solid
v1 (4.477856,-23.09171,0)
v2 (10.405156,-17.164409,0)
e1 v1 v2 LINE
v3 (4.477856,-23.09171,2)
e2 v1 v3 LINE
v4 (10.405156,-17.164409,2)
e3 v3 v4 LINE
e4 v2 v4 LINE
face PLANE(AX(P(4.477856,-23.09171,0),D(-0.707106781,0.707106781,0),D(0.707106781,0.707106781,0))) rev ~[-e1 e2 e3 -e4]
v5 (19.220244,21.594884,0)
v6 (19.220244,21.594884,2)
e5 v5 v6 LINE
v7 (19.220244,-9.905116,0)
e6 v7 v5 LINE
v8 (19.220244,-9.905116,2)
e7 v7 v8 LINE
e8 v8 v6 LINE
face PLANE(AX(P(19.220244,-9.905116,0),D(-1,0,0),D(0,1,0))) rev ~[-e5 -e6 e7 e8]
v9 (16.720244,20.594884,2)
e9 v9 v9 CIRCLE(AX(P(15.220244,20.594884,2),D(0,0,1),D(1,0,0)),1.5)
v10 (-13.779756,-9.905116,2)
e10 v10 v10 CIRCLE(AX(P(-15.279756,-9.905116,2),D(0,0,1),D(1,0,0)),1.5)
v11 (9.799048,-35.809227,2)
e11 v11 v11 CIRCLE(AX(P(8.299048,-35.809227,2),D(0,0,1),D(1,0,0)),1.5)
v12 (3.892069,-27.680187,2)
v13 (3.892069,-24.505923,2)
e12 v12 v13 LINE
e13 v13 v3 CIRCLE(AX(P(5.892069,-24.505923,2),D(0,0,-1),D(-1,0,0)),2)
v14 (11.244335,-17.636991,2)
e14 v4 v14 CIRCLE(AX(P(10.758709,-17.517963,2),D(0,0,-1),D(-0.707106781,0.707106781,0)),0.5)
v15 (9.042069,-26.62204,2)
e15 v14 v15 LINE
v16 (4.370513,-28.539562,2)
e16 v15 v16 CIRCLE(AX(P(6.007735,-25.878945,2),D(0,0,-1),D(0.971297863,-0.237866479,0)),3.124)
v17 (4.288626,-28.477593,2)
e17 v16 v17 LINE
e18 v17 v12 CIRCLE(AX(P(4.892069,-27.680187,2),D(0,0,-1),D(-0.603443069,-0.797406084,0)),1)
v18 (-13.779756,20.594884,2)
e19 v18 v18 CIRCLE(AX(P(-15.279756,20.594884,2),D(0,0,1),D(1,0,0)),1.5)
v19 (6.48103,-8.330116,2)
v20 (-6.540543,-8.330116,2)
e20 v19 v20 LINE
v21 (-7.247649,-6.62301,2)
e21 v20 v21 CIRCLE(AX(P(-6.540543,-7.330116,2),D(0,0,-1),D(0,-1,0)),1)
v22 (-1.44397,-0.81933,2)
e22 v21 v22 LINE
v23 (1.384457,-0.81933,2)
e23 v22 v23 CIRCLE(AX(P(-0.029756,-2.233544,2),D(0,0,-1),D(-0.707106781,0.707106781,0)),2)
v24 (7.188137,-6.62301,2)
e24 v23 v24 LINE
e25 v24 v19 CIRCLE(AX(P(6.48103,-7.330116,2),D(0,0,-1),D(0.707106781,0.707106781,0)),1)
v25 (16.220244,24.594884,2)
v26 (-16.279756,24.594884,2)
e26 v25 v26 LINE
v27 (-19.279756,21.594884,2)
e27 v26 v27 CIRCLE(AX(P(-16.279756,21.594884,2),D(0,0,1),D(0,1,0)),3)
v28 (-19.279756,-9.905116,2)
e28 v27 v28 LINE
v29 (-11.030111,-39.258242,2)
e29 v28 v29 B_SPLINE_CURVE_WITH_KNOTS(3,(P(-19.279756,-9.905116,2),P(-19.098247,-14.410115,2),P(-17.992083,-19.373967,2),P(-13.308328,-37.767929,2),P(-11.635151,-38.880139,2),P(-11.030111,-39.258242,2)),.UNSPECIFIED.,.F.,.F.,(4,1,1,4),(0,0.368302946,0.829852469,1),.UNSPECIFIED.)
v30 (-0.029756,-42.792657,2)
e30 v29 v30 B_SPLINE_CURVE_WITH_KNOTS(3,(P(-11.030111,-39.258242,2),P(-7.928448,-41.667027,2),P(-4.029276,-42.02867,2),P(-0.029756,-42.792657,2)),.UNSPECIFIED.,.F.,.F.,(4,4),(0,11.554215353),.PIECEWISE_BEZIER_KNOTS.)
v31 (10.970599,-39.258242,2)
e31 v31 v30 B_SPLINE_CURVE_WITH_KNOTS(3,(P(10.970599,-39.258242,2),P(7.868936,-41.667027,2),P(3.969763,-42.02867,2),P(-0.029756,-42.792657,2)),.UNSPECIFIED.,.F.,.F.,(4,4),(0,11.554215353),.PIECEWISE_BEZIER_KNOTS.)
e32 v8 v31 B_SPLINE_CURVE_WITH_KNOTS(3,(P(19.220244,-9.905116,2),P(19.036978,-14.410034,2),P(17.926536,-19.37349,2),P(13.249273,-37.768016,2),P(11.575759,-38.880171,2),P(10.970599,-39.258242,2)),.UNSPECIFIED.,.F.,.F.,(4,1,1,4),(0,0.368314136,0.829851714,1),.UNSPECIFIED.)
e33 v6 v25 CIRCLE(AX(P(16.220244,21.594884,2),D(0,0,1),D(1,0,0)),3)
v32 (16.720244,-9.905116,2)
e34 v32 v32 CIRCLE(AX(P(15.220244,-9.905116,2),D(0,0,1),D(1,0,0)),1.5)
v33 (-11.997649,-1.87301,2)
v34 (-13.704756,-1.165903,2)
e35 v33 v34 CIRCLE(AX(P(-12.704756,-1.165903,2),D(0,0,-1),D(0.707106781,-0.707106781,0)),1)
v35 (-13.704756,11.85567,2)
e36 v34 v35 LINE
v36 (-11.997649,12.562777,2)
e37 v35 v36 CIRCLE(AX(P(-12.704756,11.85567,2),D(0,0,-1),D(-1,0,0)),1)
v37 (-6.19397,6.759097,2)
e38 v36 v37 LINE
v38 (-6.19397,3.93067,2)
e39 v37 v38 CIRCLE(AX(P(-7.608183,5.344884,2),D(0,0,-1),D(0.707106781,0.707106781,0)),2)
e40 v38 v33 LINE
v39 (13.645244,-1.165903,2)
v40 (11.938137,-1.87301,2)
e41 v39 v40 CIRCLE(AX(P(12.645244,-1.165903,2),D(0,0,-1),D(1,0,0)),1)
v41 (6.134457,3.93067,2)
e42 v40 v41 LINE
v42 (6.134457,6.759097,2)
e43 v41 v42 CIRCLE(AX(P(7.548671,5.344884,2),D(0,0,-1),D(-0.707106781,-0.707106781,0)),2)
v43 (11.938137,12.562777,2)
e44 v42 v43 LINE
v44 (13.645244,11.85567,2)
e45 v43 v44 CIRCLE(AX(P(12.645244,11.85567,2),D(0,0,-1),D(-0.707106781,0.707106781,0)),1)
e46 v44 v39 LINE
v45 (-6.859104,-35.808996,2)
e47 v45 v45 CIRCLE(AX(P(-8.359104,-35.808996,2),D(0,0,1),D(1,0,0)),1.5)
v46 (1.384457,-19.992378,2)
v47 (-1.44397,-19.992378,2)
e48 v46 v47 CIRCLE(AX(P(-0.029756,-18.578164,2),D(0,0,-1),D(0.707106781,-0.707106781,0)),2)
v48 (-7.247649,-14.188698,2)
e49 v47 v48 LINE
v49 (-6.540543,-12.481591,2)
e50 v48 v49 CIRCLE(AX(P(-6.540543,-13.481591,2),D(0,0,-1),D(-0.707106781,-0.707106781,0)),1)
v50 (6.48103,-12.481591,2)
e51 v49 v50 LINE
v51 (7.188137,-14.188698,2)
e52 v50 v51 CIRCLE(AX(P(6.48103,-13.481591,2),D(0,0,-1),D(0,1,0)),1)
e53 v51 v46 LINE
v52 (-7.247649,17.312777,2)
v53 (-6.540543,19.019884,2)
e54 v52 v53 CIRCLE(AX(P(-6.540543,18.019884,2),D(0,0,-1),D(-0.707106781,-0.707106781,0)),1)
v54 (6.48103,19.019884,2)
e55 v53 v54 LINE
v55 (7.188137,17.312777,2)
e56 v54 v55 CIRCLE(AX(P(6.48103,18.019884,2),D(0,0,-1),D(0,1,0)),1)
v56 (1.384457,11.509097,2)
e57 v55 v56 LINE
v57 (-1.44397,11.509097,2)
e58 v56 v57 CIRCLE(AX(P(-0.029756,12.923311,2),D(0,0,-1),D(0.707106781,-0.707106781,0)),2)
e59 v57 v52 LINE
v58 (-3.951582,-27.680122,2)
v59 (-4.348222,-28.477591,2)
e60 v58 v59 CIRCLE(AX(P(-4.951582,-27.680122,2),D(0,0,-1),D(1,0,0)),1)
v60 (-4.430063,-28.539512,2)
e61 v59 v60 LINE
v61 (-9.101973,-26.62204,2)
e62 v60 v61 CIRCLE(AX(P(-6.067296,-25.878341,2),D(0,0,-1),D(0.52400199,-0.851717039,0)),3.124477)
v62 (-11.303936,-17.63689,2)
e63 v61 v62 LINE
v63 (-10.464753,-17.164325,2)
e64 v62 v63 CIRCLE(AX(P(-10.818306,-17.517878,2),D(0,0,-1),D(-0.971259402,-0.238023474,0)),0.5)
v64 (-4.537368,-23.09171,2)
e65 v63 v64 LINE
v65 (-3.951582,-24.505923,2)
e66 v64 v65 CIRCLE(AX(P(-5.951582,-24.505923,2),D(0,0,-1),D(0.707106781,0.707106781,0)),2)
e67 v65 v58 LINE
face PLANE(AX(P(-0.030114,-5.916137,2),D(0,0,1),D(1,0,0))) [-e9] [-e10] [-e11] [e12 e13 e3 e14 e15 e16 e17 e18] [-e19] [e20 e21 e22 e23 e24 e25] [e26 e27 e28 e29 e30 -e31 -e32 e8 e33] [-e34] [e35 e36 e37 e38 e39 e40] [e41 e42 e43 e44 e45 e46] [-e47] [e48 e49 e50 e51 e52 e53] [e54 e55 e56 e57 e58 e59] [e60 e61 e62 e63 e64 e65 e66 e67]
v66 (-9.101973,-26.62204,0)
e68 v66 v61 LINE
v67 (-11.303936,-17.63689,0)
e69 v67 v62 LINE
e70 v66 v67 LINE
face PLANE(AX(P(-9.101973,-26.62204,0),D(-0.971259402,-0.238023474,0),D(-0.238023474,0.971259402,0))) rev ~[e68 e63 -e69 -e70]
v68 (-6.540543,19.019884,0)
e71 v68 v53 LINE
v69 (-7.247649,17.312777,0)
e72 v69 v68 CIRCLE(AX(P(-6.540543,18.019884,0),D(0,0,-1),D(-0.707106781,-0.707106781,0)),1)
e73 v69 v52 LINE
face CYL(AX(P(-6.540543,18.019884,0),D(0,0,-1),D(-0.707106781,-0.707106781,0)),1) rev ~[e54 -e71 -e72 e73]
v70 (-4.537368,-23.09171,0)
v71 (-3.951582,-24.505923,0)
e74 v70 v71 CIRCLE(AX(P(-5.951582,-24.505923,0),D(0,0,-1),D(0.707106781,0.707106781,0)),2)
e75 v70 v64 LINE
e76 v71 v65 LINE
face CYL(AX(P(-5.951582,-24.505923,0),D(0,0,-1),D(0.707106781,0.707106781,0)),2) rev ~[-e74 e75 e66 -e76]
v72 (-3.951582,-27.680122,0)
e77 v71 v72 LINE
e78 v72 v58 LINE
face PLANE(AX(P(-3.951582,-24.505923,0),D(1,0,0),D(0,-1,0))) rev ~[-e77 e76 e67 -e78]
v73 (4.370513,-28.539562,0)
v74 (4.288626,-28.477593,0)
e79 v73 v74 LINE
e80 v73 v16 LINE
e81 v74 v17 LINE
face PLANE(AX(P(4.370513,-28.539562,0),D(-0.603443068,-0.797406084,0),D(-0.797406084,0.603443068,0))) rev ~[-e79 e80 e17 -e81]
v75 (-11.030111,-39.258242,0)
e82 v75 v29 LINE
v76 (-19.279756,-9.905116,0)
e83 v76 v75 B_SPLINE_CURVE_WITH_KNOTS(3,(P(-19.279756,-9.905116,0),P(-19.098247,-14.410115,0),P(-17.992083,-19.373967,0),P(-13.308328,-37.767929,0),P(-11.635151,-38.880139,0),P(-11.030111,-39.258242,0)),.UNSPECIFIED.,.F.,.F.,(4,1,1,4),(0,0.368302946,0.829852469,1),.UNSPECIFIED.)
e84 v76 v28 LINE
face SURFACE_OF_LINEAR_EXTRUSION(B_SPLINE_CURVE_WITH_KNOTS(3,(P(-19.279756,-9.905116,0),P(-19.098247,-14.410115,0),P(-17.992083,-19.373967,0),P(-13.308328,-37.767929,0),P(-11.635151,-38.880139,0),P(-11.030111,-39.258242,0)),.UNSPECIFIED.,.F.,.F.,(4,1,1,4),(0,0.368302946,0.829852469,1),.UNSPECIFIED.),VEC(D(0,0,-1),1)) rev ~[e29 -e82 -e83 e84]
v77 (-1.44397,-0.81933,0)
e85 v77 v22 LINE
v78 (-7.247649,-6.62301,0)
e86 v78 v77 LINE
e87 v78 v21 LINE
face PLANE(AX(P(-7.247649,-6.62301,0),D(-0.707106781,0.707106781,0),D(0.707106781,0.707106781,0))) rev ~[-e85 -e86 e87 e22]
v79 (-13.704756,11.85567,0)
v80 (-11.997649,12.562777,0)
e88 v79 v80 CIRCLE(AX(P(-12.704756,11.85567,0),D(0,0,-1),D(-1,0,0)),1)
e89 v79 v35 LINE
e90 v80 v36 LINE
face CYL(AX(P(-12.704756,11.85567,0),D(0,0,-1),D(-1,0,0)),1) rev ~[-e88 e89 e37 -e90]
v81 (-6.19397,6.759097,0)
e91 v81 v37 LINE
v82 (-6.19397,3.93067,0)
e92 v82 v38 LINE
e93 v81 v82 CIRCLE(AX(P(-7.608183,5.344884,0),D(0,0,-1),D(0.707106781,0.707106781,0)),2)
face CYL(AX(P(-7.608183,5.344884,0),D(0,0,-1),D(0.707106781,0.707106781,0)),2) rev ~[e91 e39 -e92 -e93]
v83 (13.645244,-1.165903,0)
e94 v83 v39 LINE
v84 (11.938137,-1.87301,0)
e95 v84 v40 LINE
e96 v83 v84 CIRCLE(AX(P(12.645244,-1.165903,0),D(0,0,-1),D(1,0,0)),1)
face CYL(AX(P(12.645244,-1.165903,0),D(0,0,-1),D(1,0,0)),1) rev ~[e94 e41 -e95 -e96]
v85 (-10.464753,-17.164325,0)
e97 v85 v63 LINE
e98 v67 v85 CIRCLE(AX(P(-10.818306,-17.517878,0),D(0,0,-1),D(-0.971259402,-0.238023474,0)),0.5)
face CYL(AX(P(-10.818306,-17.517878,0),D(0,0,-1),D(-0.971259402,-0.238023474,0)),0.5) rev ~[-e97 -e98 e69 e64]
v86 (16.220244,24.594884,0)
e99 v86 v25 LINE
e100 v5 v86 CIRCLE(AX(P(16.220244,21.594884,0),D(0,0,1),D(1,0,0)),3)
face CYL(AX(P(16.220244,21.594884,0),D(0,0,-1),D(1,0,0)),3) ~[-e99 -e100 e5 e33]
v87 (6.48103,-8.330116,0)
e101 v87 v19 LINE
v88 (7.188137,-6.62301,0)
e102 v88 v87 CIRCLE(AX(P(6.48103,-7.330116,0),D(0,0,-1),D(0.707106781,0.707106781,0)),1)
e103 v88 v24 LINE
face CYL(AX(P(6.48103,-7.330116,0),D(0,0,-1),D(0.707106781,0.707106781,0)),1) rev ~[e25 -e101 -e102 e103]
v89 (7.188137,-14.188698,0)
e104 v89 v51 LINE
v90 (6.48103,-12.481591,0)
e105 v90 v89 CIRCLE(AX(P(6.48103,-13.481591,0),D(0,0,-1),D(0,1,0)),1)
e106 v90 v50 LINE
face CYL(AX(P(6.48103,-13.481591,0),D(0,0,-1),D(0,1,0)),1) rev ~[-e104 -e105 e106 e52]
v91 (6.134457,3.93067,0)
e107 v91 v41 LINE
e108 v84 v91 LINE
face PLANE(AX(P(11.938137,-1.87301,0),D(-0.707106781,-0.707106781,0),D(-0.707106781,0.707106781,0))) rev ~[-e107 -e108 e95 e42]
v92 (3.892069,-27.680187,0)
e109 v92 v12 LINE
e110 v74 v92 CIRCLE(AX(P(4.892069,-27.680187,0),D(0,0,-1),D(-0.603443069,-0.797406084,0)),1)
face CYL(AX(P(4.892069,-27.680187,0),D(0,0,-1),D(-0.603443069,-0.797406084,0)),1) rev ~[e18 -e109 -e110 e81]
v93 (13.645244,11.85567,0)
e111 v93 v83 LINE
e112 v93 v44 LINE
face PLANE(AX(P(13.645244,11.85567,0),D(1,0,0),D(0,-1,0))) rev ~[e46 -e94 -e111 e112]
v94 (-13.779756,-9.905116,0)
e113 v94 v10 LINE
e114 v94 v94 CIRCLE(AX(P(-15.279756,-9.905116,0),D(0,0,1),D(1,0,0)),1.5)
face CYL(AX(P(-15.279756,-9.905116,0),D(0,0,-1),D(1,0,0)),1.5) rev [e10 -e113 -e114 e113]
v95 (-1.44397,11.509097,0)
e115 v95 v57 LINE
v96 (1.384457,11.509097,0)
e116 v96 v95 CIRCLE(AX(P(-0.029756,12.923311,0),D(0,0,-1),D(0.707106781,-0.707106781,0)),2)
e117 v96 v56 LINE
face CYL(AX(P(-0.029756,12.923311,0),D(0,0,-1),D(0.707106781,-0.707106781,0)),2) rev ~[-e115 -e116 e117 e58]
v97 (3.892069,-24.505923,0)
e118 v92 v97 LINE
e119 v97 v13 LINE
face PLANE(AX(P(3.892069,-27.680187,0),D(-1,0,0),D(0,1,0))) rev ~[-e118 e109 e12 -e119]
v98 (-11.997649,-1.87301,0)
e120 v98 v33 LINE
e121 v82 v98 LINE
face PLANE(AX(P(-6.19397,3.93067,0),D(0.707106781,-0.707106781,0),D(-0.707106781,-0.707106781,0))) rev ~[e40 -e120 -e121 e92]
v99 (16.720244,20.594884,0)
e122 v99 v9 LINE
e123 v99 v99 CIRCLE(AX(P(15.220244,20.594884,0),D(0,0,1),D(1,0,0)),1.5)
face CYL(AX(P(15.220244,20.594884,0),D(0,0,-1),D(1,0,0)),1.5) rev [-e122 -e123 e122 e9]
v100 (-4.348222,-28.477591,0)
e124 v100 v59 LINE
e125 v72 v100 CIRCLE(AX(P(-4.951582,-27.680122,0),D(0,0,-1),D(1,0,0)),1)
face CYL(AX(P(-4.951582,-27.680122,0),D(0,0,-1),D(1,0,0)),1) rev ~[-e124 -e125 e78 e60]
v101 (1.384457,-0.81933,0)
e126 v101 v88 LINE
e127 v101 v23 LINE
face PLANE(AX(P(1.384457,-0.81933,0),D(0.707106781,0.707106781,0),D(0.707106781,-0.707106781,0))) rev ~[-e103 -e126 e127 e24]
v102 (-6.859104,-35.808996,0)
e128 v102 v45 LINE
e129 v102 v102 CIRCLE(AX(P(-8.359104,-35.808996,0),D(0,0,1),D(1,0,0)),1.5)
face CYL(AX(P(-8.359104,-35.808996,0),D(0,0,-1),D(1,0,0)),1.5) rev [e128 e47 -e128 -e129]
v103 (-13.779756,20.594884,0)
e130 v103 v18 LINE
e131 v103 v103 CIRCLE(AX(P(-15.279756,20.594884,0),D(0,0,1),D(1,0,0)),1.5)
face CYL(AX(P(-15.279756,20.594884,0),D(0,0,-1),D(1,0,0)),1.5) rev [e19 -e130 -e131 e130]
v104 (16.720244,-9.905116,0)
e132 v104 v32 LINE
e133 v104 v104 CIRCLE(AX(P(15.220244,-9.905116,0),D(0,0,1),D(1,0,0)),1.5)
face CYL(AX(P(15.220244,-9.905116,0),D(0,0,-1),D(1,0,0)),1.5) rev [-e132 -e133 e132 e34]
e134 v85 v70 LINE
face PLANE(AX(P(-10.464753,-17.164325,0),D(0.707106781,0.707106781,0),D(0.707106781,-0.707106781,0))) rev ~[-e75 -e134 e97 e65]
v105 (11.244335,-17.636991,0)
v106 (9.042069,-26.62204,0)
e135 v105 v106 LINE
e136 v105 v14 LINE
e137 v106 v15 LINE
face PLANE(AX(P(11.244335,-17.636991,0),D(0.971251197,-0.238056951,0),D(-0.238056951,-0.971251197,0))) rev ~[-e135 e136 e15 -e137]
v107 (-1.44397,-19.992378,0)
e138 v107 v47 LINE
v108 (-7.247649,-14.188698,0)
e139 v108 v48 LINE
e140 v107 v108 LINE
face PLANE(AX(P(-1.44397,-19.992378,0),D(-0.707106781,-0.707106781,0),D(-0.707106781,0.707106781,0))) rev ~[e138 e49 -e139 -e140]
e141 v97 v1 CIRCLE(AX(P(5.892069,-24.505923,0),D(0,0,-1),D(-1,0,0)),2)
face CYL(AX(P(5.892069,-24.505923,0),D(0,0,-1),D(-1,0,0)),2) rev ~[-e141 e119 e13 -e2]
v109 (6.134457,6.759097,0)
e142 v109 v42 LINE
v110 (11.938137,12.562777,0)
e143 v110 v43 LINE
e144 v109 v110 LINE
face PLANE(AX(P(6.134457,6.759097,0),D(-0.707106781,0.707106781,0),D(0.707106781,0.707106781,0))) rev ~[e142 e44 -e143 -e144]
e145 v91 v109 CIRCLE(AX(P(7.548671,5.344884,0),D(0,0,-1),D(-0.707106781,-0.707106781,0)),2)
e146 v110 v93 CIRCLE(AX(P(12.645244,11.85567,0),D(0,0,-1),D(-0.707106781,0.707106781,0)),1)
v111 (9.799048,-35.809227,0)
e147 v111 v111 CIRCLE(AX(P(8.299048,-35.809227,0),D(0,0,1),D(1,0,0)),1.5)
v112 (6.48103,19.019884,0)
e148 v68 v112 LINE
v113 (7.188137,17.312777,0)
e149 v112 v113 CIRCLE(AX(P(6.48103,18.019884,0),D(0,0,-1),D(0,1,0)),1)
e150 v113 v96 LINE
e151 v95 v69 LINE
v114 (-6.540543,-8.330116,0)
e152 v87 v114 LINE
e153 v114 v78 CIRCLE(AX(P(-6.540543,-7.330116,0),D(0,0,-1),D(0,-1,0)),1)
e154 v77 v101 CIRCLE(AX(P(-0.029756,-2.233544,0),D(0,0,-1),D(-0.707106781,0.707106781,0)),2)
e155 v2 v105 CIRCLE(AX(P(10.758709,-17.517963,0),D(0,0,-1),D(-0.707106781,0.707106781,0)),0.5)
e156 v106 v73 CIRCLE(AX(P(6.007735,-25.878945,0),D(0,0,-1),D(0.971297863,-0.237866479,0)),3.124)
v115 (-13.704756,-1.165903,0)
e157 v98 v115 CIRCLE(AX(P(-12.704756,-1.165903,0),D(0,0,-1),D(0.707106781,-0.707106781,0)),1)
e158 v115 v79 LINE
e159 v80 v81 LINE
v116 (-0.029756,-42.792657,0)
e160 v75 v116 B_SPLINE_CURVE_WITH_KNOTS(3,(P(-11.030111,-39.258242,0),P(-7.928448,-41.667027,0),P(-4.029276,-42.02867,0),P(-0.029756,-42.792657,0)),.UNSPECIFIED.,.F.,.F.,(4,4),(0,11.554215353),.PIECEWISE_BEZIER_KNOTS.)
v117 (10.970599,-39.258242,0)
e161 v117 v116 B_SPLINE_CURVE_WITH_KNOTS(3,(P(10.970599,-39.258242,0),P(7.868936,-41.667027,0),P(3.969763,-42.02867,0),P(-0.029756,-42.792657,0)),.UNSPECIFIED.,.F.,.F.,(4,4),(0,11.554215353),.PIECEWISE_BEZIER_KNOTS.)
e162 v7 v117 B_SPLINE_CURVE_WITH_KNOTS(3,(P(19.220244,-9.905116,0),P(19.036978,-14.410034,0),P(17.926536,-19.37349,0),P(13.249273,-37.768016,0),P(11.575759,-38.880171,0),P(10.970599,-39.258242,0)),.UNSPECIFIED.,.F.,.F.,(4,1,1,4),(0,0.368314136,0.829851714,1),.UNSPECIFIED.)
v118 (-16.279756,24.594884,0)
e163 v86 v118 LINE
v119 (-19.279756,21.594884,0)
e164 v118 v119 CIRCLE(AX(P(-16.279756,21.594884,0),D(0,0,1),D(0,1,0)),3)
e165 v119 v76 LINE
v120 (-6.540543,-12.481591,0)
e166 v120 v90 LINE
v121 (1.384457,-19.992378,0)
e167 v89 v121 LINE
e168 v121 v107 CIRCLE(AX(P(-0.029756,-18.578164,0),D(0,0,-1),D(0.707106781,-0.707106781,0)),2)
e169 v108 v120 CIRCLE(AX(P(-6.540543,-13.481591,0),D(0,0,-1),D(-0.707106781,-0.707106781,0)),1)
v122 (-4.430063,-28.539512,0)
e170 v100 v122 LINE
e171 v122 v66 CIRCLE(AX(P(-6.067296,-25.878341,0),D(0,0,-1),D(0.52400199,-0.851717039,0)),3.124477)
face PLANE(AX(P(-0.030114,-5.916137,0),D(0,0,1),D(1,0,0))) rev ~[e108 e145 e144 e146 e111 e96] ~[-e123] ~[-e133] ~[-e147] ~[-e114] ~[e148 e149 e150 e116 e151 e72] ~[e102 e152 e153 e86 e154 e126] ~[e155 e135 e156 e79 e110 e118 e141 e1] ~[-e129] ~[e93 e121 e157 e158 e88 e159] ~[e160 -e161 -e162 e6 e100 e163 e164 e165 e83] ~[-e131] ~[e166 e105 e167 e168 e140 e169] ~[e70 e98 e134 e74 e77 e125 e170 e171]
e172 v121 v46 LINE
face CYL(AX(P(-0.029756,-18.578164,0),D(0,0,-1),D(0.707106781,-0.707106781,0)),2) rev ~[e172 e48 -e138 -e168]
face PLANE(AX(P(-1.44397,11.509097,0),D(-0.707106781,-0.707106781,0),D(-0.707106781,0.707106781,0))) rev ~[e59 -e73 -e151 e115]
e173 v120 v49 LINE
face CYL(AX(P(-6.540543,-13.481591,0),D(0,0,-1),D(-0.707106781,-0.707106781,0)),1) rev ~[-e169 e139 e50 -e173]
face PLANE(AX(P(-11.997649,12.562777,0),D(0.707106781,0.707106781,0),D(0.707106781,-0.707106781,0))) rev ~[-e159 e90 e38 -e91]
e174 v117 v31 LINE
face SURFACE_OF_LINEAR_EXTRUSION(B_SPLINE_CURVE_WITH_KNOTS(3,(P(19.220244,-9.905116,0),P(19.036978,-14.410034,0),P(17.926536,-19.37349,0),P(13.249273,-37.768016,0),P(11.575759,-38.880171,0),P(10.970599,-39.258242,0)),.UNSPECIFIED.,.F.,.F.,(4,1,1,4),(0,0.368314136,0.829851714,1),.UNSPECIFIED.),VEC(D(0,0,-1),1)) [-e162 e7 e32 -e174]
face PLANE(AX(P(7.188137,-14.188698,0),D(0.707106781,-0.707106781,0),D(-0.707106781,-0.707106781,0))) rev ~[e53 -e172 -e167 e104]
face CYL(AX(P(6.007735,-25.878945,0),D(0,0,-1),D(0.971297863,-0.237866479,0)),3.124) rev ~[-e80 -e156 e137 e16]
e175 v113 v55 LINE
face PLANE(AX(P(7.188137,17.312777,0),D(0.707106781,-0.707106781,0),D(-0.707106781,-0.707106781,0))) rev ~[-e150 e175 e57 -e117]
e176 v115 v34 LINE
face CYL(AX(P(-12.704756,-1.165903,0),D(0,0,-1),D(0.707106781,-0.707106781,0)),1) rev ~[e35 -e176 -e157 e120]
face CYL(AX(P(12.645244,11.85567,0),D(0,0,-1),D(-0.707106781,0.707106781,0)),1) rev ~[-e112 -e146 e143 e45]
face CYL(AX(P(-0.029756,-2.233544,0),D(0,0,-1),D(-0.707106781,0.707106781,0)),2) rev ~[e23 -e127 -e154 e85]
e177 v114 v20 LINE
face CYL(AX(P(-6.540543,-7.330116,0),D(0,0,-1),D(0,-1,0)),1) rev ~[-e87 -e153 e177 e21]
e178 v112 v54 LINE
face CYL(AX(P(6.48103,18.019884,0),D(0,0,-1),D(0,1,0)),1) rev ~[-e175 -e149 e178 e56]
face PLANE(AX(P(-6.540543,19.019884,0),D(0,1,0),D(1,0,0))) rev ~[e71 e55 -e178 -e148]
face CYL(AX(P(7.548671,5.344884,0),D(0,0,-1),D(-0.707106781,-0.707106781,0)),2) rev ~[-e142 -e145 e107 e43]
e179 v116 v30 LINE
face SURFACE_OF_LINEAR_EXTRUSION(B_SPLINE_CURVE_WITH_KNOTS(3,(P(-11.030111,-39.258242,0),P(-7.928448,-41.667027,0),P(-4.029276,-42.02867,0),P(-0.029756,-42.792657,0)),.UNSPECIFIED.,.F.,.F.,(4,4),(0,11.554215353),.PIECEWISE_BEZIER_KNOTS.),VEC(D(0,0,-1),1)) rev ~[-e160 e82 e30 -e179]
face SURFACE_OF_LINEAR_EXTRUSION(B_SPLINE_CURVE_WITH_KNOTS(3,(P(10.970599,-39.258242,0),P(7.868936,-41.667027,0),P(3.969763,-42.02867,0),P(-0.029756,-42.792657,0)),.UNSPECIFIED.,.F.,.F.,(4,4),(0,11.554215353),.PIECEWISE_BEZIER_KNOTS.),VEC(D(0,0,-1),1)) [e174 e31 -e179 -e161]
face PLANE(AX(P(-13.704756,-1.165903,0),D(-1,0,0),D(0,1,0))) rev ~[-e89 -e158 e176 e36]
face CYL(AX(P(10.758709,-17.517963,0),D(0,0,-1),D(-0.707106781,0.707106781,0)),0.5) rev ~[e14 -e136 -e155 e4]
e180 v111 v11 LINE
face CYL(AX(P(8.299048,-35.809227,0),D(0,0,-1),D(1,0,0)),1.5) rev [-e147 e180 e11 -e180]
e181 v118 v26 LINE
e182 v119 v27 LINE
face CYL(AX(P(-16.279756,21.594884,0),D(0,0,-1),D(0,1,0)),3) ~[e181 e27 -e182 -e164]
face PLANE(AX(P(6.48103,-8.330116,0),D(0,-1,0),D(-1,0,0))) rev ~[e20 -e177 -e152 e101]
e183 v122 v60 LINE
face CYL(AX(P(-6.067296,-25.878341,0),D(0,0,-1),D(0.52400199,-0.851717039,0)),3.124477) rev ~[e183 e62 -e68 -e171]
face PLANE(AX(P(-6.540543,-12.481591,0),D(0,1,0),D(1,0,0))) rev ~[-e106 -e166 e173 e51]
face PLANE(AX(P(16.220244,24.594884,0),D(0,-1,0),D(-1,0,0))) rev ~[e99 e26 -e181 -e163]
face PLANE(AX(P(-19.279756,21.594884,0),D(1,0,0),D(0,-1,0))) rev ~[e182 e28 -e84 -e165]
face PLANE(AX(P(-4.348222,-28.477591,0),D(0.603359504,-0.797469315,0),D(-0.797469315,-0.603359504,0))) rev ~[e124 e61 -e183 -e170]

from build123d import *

# Parameters (mm, degrees)
F0_R     = 1.5
F1_DEPTH = 2


with BuildPart() as f1:
    # F0 (on Top) → F1 (new body)
    with BuildSketch(Plane.XY):
        with BuildLine():
            add(Edge.make_bspline(
                [(-19.2797562629, -9.905116457), (-19.0982468003, -14.4101153328), (-17.9920827376, -19.3739666304), (-13.308328145, -37.7679285444), (-11.6351514357, -38.8801394619), (-11.0301110372, -39.2582418919)],
                knots=[0, 0, 0, 0, 0.3683029461, 0.8298524693, 1, 1, 1, 1], degree=3))
            add(Edge.make_bspline(
                [(-11.0301110372, -39.2582418919), (-7.9284483046, -41.6670267819), (-4.0292758905, -42.0286703297), (-0.0297562629, -42.7926565894)],
                knots=[0, 0, 0, 0, 11.5542153526, 11.5542153526, 11.5542153526, 11.5542153526], degree=3))
            add(Edge.make_bspline(
                [(10.9705985114, -39.2582418919), (7.8689357787, -41.6670267819), (3.9697633646, -42.0286703297), (-0.0297562629, -42.7926565894)],
                knots=[0, 0, 0, 0, 11.5542153526, 11.5542153526, 11.5542153526, 11.5542153526], degree=3))
            add(Edge.make_bspline(
                [(19.2202437371, -9.905116457), (19.036977504, -14.4100339649), (17.9265362965, -19.3734899796), (13.2492727498, -37.7680162572), (11.5757589717, -38.88017148), (10.9705985114, -39.2582418919)],
                knots=[0, 0, 0, 0, 0.368314136, 0.829851714, 1, 1, 1, 1], degree=3))
            Line((19.2202437371, -9.905116457), (19.2202437371, 20.594883543))
            Line((19.2202437371, 20.594883543), (19.2202437371, 21.594883543))
            ThreePointArc((19.2202437371, 21.594883543), (18.3415640806, 23.7162038866), (16.2202437371, 24.594883543))
            Line((16.2202437371, 24.594883543), (0, 24.594883543))
            Line((0, 24.594883543), (-16.2797562629, 24.594883543))
            ThreePointArc((-16.2797562629, 24.594883543), (-18.4010766065, 23.7162038866), (-19.2797562629, 21.594883543))
            Line((-19.2797562629, 21.594883543), (-19.2797562629, 20.594883543))
            Line((-19.2797562629, 20.594883543), (-19.2797562629, -9.905116457))
        make_face()
        with Locations((-8.3591040188, -35.8089955406)):
            Circle(F0_R, mode=Mode.SUBTRACT)
        with Locations((-15.2797562629, -9.905116457)):
            Circle(F0_R, mode=Mode.SUBTRACT)
        with BuildLine():
            ThreePointArc((-11.3039357928, -17.6368901423), (-11.0636435897, -17.0822070704), (-10.4647527012, -17.1643250148))
            Line((-10.4647527012, -17.1643250148), (-4.5373681075, -23.0917096085))
            ThreePointArc((-4.5373681075, -23.0917096085), (-4.1038226049, -23.7405563062), (-3.9515816699, -24.5059231709))
            Line((-3.9515816699, -24.5059231709), (-3.9515816699, -27.680122055))
            ThreePointArc((-3.9515816699, -27.680122055), (-4.0562159615, -28.1254536709), (-4.3482221662, -28.4775913706))
            Line((-4.3482221662, -28.4775913706), (-4.4300632592, -28.5395117484))
            ThreePointArc((-4.4300632592, -28.5395117484), (-7.2536293499, -28.7688377699), (-9.1019734581, -26.6220401664))
            Line((-9.1019734581, -26.6220401664), (-11.3039357928, -17.6368901423))
        make_face(mode=Mode.SUBTRACT)
        with BuildLine():
            Line((-1.4439698253, -19.9923775593), (-7.2476494818, -14.1886979028))
            ThreePointArc((-7.2476494818, -14.1886979028), (-7.4644222331, -13.0989076893), (-6.5405427006, -12.4815911217))
            Line((-6.5405427006, -12.4815911217), (6.4810301747, -12.4815911217))
            ThreePointArc((6.4810301747, -12.4815911217), (7.4049097072, -13.0989076893), (7.1881369559, -14.1886979028))
            Line((7.1881369559, -14.1886979028), (1.3844572994, -19.9923775593))
            ThreePointArc((1.3844572994, -19.9923775593), (-0.0297562629, -20.5781639969), (-1.4439698253, -19.9923775593))
        make_face(mode=Mode.SUBTRACT)
        with Locations((8.2990484464, -35.8092267746)):
            Circle(F0_R, mode=Mode.SUBTRACT)
        with BuildLine():
            Line((4.4778555816, -23.0917096085), (10.405156074, -17.1644091162))
            ThreePointArc((10.405156074, -17.1644091162), (11.0040544707, -17.0822954), (11.2443350632, -17.6369909821))
            Line((11.2443350632, -17.6369909821), (9.042069144, -26.6220401664))
            ThreePointArc((9.042069144, -26.6220401664), (7.1939906468, -28.7689578546), (4.3705127945, -28.5395618872))
            Line((4.3705127945, -28.5395618872), (4.2886260755, -28.477593495))
            ThreePointArc((4.2886260755, -28.477593495), (3.9966801033, -28.1254721127), (3.892069144, -27.6801874108))
            Line((3.892069144, -27.6801874108), (3.892069144, -24.5059231709))
            ThreePointArc((3.892069144, -24.5059231709), (4.044310079, -23.7405563062), (4.4778555816, -23.0917096085))
        make_face(mode=Mode.SUBTRACT)
        with Locations((15.2202437371, -9.905116457)):
            Circle(F0_R, mode=Mode.SUBTRACT)
        with BuildLine():
            Line((-11.9976494818, 12.5627767618), (-6.1939698253, 6.7590971054))
            ThreePointArc((-6.1939698253, 6.7590971054), (-5.6081833877, 5.344883543), (-6.1939698253, 3.9306699806))
            Line((-6.1939698253, 3.9306699806), (-11.9976494818, -1.8730096758))
            ThreePointArc((-11.9976494818, -1.8730096758), (-13.0874396953, -2.0897824271), (-13.7047562629, -1.1659028946))
            Line((-13.7047562629, -1.1659028946), (-13.7047562629, 11.8556699806))
            ThreePointArc((-13.7047562629, 11.8556699806), (-13.0874396953, 12.7795495132), (-11.9976494818, 12.5627767618))
        make_face(mode=Mode.SUBTRACT)
        with BuildLine():
            ThreePointArc((-1.4439698253, -0.8193300194), (-0.0297562629, -0.2335435817), (1.3844572994, -0.8193300194))
            Line((1.3844572994, -0.8193300194), (7.1881369559, -6.6230096758))
            ThreePointArc((7.1881369559, -6.6230096758), (7.4049097072, -7.7127998894), (6.4810301747, -8.330116457))
            Line((6.4810301747, -8.330116457), (-6.5405427006, -8.330116457))
            ThreePointArc((-6.5405427006, -8.330116457), (-7.4644222331, -7.7127998894), (-7.2476494818, -6.6230096758))
            Line((-7.2476494818, -6.6230096758), (-1.4439698253, -0.8193300194))
        make_face(mode=Mode.SUBTRACT)
        with Locations((-15.2797562629, 20.594883543)):
            Circle(F0_R, mode=Mode.SUBTRACT)
        with BuildLine():
            ThreePointArc((1.3844572994, 11.5090971054), (-0.0297562629, 10.9233106678), (-1.4439698253, 11.5090971054))
            Line((-1.4439698253, 11.5090971054), (-7.2476494818, 17.3127767618))
            ThreePointArc((-7.2476494818, 17.3127767618), (-7.4644222331, 18.4025669754), (-6.5405427006, 19.019883543))
            Line((-6.5405427006, 19.019883543), (6.4810301747, 19.019883543))
            ThreePointArc((6.4810301747, 19.019883543), (7.4049097072, 18.4025669754), (7.1881369559, 17.3127767618))
            Line((7.1881369559, 17.3127767618), (1.3844572994, 11.5090971054))
        make_face(mode=Mode.SUBTRACT)
        with BuildLine():
            Line((11.9381369559, -1.8730096758), (6.1344572994, 3.9306699806))
            ThreePointArc((6.1344572994, 3.9306699806), (5.5486708618, 5.344883543), (6.1344572994, 6.7590971054))
            Line((6.1344572994, 6.7590971054), (11.9381369559, 12.5627767618))
            ThreePointArc((11.9381369559, 12.5627767618), (13.0279271694, 12.7795495132), (13.6452437371, 11.8556699806))
            Line((13.6452437371, 11.8556699806), (13.6452437371, -1.1659028946))
            ThreePointArc((13.6452437371, -1.1659028946), (13.0279271694, -2.0897824271), (11.9381369559, -1.8730096758))
        make_face(mode=Mode.SUBTRACT)
        with Locations((15.2202437371, 20.594883543)):
            Circle(F0_R, mode=Mode.SUBTRACT)
    extrude(amount=F1_DEPTH)


solid = f1.part
